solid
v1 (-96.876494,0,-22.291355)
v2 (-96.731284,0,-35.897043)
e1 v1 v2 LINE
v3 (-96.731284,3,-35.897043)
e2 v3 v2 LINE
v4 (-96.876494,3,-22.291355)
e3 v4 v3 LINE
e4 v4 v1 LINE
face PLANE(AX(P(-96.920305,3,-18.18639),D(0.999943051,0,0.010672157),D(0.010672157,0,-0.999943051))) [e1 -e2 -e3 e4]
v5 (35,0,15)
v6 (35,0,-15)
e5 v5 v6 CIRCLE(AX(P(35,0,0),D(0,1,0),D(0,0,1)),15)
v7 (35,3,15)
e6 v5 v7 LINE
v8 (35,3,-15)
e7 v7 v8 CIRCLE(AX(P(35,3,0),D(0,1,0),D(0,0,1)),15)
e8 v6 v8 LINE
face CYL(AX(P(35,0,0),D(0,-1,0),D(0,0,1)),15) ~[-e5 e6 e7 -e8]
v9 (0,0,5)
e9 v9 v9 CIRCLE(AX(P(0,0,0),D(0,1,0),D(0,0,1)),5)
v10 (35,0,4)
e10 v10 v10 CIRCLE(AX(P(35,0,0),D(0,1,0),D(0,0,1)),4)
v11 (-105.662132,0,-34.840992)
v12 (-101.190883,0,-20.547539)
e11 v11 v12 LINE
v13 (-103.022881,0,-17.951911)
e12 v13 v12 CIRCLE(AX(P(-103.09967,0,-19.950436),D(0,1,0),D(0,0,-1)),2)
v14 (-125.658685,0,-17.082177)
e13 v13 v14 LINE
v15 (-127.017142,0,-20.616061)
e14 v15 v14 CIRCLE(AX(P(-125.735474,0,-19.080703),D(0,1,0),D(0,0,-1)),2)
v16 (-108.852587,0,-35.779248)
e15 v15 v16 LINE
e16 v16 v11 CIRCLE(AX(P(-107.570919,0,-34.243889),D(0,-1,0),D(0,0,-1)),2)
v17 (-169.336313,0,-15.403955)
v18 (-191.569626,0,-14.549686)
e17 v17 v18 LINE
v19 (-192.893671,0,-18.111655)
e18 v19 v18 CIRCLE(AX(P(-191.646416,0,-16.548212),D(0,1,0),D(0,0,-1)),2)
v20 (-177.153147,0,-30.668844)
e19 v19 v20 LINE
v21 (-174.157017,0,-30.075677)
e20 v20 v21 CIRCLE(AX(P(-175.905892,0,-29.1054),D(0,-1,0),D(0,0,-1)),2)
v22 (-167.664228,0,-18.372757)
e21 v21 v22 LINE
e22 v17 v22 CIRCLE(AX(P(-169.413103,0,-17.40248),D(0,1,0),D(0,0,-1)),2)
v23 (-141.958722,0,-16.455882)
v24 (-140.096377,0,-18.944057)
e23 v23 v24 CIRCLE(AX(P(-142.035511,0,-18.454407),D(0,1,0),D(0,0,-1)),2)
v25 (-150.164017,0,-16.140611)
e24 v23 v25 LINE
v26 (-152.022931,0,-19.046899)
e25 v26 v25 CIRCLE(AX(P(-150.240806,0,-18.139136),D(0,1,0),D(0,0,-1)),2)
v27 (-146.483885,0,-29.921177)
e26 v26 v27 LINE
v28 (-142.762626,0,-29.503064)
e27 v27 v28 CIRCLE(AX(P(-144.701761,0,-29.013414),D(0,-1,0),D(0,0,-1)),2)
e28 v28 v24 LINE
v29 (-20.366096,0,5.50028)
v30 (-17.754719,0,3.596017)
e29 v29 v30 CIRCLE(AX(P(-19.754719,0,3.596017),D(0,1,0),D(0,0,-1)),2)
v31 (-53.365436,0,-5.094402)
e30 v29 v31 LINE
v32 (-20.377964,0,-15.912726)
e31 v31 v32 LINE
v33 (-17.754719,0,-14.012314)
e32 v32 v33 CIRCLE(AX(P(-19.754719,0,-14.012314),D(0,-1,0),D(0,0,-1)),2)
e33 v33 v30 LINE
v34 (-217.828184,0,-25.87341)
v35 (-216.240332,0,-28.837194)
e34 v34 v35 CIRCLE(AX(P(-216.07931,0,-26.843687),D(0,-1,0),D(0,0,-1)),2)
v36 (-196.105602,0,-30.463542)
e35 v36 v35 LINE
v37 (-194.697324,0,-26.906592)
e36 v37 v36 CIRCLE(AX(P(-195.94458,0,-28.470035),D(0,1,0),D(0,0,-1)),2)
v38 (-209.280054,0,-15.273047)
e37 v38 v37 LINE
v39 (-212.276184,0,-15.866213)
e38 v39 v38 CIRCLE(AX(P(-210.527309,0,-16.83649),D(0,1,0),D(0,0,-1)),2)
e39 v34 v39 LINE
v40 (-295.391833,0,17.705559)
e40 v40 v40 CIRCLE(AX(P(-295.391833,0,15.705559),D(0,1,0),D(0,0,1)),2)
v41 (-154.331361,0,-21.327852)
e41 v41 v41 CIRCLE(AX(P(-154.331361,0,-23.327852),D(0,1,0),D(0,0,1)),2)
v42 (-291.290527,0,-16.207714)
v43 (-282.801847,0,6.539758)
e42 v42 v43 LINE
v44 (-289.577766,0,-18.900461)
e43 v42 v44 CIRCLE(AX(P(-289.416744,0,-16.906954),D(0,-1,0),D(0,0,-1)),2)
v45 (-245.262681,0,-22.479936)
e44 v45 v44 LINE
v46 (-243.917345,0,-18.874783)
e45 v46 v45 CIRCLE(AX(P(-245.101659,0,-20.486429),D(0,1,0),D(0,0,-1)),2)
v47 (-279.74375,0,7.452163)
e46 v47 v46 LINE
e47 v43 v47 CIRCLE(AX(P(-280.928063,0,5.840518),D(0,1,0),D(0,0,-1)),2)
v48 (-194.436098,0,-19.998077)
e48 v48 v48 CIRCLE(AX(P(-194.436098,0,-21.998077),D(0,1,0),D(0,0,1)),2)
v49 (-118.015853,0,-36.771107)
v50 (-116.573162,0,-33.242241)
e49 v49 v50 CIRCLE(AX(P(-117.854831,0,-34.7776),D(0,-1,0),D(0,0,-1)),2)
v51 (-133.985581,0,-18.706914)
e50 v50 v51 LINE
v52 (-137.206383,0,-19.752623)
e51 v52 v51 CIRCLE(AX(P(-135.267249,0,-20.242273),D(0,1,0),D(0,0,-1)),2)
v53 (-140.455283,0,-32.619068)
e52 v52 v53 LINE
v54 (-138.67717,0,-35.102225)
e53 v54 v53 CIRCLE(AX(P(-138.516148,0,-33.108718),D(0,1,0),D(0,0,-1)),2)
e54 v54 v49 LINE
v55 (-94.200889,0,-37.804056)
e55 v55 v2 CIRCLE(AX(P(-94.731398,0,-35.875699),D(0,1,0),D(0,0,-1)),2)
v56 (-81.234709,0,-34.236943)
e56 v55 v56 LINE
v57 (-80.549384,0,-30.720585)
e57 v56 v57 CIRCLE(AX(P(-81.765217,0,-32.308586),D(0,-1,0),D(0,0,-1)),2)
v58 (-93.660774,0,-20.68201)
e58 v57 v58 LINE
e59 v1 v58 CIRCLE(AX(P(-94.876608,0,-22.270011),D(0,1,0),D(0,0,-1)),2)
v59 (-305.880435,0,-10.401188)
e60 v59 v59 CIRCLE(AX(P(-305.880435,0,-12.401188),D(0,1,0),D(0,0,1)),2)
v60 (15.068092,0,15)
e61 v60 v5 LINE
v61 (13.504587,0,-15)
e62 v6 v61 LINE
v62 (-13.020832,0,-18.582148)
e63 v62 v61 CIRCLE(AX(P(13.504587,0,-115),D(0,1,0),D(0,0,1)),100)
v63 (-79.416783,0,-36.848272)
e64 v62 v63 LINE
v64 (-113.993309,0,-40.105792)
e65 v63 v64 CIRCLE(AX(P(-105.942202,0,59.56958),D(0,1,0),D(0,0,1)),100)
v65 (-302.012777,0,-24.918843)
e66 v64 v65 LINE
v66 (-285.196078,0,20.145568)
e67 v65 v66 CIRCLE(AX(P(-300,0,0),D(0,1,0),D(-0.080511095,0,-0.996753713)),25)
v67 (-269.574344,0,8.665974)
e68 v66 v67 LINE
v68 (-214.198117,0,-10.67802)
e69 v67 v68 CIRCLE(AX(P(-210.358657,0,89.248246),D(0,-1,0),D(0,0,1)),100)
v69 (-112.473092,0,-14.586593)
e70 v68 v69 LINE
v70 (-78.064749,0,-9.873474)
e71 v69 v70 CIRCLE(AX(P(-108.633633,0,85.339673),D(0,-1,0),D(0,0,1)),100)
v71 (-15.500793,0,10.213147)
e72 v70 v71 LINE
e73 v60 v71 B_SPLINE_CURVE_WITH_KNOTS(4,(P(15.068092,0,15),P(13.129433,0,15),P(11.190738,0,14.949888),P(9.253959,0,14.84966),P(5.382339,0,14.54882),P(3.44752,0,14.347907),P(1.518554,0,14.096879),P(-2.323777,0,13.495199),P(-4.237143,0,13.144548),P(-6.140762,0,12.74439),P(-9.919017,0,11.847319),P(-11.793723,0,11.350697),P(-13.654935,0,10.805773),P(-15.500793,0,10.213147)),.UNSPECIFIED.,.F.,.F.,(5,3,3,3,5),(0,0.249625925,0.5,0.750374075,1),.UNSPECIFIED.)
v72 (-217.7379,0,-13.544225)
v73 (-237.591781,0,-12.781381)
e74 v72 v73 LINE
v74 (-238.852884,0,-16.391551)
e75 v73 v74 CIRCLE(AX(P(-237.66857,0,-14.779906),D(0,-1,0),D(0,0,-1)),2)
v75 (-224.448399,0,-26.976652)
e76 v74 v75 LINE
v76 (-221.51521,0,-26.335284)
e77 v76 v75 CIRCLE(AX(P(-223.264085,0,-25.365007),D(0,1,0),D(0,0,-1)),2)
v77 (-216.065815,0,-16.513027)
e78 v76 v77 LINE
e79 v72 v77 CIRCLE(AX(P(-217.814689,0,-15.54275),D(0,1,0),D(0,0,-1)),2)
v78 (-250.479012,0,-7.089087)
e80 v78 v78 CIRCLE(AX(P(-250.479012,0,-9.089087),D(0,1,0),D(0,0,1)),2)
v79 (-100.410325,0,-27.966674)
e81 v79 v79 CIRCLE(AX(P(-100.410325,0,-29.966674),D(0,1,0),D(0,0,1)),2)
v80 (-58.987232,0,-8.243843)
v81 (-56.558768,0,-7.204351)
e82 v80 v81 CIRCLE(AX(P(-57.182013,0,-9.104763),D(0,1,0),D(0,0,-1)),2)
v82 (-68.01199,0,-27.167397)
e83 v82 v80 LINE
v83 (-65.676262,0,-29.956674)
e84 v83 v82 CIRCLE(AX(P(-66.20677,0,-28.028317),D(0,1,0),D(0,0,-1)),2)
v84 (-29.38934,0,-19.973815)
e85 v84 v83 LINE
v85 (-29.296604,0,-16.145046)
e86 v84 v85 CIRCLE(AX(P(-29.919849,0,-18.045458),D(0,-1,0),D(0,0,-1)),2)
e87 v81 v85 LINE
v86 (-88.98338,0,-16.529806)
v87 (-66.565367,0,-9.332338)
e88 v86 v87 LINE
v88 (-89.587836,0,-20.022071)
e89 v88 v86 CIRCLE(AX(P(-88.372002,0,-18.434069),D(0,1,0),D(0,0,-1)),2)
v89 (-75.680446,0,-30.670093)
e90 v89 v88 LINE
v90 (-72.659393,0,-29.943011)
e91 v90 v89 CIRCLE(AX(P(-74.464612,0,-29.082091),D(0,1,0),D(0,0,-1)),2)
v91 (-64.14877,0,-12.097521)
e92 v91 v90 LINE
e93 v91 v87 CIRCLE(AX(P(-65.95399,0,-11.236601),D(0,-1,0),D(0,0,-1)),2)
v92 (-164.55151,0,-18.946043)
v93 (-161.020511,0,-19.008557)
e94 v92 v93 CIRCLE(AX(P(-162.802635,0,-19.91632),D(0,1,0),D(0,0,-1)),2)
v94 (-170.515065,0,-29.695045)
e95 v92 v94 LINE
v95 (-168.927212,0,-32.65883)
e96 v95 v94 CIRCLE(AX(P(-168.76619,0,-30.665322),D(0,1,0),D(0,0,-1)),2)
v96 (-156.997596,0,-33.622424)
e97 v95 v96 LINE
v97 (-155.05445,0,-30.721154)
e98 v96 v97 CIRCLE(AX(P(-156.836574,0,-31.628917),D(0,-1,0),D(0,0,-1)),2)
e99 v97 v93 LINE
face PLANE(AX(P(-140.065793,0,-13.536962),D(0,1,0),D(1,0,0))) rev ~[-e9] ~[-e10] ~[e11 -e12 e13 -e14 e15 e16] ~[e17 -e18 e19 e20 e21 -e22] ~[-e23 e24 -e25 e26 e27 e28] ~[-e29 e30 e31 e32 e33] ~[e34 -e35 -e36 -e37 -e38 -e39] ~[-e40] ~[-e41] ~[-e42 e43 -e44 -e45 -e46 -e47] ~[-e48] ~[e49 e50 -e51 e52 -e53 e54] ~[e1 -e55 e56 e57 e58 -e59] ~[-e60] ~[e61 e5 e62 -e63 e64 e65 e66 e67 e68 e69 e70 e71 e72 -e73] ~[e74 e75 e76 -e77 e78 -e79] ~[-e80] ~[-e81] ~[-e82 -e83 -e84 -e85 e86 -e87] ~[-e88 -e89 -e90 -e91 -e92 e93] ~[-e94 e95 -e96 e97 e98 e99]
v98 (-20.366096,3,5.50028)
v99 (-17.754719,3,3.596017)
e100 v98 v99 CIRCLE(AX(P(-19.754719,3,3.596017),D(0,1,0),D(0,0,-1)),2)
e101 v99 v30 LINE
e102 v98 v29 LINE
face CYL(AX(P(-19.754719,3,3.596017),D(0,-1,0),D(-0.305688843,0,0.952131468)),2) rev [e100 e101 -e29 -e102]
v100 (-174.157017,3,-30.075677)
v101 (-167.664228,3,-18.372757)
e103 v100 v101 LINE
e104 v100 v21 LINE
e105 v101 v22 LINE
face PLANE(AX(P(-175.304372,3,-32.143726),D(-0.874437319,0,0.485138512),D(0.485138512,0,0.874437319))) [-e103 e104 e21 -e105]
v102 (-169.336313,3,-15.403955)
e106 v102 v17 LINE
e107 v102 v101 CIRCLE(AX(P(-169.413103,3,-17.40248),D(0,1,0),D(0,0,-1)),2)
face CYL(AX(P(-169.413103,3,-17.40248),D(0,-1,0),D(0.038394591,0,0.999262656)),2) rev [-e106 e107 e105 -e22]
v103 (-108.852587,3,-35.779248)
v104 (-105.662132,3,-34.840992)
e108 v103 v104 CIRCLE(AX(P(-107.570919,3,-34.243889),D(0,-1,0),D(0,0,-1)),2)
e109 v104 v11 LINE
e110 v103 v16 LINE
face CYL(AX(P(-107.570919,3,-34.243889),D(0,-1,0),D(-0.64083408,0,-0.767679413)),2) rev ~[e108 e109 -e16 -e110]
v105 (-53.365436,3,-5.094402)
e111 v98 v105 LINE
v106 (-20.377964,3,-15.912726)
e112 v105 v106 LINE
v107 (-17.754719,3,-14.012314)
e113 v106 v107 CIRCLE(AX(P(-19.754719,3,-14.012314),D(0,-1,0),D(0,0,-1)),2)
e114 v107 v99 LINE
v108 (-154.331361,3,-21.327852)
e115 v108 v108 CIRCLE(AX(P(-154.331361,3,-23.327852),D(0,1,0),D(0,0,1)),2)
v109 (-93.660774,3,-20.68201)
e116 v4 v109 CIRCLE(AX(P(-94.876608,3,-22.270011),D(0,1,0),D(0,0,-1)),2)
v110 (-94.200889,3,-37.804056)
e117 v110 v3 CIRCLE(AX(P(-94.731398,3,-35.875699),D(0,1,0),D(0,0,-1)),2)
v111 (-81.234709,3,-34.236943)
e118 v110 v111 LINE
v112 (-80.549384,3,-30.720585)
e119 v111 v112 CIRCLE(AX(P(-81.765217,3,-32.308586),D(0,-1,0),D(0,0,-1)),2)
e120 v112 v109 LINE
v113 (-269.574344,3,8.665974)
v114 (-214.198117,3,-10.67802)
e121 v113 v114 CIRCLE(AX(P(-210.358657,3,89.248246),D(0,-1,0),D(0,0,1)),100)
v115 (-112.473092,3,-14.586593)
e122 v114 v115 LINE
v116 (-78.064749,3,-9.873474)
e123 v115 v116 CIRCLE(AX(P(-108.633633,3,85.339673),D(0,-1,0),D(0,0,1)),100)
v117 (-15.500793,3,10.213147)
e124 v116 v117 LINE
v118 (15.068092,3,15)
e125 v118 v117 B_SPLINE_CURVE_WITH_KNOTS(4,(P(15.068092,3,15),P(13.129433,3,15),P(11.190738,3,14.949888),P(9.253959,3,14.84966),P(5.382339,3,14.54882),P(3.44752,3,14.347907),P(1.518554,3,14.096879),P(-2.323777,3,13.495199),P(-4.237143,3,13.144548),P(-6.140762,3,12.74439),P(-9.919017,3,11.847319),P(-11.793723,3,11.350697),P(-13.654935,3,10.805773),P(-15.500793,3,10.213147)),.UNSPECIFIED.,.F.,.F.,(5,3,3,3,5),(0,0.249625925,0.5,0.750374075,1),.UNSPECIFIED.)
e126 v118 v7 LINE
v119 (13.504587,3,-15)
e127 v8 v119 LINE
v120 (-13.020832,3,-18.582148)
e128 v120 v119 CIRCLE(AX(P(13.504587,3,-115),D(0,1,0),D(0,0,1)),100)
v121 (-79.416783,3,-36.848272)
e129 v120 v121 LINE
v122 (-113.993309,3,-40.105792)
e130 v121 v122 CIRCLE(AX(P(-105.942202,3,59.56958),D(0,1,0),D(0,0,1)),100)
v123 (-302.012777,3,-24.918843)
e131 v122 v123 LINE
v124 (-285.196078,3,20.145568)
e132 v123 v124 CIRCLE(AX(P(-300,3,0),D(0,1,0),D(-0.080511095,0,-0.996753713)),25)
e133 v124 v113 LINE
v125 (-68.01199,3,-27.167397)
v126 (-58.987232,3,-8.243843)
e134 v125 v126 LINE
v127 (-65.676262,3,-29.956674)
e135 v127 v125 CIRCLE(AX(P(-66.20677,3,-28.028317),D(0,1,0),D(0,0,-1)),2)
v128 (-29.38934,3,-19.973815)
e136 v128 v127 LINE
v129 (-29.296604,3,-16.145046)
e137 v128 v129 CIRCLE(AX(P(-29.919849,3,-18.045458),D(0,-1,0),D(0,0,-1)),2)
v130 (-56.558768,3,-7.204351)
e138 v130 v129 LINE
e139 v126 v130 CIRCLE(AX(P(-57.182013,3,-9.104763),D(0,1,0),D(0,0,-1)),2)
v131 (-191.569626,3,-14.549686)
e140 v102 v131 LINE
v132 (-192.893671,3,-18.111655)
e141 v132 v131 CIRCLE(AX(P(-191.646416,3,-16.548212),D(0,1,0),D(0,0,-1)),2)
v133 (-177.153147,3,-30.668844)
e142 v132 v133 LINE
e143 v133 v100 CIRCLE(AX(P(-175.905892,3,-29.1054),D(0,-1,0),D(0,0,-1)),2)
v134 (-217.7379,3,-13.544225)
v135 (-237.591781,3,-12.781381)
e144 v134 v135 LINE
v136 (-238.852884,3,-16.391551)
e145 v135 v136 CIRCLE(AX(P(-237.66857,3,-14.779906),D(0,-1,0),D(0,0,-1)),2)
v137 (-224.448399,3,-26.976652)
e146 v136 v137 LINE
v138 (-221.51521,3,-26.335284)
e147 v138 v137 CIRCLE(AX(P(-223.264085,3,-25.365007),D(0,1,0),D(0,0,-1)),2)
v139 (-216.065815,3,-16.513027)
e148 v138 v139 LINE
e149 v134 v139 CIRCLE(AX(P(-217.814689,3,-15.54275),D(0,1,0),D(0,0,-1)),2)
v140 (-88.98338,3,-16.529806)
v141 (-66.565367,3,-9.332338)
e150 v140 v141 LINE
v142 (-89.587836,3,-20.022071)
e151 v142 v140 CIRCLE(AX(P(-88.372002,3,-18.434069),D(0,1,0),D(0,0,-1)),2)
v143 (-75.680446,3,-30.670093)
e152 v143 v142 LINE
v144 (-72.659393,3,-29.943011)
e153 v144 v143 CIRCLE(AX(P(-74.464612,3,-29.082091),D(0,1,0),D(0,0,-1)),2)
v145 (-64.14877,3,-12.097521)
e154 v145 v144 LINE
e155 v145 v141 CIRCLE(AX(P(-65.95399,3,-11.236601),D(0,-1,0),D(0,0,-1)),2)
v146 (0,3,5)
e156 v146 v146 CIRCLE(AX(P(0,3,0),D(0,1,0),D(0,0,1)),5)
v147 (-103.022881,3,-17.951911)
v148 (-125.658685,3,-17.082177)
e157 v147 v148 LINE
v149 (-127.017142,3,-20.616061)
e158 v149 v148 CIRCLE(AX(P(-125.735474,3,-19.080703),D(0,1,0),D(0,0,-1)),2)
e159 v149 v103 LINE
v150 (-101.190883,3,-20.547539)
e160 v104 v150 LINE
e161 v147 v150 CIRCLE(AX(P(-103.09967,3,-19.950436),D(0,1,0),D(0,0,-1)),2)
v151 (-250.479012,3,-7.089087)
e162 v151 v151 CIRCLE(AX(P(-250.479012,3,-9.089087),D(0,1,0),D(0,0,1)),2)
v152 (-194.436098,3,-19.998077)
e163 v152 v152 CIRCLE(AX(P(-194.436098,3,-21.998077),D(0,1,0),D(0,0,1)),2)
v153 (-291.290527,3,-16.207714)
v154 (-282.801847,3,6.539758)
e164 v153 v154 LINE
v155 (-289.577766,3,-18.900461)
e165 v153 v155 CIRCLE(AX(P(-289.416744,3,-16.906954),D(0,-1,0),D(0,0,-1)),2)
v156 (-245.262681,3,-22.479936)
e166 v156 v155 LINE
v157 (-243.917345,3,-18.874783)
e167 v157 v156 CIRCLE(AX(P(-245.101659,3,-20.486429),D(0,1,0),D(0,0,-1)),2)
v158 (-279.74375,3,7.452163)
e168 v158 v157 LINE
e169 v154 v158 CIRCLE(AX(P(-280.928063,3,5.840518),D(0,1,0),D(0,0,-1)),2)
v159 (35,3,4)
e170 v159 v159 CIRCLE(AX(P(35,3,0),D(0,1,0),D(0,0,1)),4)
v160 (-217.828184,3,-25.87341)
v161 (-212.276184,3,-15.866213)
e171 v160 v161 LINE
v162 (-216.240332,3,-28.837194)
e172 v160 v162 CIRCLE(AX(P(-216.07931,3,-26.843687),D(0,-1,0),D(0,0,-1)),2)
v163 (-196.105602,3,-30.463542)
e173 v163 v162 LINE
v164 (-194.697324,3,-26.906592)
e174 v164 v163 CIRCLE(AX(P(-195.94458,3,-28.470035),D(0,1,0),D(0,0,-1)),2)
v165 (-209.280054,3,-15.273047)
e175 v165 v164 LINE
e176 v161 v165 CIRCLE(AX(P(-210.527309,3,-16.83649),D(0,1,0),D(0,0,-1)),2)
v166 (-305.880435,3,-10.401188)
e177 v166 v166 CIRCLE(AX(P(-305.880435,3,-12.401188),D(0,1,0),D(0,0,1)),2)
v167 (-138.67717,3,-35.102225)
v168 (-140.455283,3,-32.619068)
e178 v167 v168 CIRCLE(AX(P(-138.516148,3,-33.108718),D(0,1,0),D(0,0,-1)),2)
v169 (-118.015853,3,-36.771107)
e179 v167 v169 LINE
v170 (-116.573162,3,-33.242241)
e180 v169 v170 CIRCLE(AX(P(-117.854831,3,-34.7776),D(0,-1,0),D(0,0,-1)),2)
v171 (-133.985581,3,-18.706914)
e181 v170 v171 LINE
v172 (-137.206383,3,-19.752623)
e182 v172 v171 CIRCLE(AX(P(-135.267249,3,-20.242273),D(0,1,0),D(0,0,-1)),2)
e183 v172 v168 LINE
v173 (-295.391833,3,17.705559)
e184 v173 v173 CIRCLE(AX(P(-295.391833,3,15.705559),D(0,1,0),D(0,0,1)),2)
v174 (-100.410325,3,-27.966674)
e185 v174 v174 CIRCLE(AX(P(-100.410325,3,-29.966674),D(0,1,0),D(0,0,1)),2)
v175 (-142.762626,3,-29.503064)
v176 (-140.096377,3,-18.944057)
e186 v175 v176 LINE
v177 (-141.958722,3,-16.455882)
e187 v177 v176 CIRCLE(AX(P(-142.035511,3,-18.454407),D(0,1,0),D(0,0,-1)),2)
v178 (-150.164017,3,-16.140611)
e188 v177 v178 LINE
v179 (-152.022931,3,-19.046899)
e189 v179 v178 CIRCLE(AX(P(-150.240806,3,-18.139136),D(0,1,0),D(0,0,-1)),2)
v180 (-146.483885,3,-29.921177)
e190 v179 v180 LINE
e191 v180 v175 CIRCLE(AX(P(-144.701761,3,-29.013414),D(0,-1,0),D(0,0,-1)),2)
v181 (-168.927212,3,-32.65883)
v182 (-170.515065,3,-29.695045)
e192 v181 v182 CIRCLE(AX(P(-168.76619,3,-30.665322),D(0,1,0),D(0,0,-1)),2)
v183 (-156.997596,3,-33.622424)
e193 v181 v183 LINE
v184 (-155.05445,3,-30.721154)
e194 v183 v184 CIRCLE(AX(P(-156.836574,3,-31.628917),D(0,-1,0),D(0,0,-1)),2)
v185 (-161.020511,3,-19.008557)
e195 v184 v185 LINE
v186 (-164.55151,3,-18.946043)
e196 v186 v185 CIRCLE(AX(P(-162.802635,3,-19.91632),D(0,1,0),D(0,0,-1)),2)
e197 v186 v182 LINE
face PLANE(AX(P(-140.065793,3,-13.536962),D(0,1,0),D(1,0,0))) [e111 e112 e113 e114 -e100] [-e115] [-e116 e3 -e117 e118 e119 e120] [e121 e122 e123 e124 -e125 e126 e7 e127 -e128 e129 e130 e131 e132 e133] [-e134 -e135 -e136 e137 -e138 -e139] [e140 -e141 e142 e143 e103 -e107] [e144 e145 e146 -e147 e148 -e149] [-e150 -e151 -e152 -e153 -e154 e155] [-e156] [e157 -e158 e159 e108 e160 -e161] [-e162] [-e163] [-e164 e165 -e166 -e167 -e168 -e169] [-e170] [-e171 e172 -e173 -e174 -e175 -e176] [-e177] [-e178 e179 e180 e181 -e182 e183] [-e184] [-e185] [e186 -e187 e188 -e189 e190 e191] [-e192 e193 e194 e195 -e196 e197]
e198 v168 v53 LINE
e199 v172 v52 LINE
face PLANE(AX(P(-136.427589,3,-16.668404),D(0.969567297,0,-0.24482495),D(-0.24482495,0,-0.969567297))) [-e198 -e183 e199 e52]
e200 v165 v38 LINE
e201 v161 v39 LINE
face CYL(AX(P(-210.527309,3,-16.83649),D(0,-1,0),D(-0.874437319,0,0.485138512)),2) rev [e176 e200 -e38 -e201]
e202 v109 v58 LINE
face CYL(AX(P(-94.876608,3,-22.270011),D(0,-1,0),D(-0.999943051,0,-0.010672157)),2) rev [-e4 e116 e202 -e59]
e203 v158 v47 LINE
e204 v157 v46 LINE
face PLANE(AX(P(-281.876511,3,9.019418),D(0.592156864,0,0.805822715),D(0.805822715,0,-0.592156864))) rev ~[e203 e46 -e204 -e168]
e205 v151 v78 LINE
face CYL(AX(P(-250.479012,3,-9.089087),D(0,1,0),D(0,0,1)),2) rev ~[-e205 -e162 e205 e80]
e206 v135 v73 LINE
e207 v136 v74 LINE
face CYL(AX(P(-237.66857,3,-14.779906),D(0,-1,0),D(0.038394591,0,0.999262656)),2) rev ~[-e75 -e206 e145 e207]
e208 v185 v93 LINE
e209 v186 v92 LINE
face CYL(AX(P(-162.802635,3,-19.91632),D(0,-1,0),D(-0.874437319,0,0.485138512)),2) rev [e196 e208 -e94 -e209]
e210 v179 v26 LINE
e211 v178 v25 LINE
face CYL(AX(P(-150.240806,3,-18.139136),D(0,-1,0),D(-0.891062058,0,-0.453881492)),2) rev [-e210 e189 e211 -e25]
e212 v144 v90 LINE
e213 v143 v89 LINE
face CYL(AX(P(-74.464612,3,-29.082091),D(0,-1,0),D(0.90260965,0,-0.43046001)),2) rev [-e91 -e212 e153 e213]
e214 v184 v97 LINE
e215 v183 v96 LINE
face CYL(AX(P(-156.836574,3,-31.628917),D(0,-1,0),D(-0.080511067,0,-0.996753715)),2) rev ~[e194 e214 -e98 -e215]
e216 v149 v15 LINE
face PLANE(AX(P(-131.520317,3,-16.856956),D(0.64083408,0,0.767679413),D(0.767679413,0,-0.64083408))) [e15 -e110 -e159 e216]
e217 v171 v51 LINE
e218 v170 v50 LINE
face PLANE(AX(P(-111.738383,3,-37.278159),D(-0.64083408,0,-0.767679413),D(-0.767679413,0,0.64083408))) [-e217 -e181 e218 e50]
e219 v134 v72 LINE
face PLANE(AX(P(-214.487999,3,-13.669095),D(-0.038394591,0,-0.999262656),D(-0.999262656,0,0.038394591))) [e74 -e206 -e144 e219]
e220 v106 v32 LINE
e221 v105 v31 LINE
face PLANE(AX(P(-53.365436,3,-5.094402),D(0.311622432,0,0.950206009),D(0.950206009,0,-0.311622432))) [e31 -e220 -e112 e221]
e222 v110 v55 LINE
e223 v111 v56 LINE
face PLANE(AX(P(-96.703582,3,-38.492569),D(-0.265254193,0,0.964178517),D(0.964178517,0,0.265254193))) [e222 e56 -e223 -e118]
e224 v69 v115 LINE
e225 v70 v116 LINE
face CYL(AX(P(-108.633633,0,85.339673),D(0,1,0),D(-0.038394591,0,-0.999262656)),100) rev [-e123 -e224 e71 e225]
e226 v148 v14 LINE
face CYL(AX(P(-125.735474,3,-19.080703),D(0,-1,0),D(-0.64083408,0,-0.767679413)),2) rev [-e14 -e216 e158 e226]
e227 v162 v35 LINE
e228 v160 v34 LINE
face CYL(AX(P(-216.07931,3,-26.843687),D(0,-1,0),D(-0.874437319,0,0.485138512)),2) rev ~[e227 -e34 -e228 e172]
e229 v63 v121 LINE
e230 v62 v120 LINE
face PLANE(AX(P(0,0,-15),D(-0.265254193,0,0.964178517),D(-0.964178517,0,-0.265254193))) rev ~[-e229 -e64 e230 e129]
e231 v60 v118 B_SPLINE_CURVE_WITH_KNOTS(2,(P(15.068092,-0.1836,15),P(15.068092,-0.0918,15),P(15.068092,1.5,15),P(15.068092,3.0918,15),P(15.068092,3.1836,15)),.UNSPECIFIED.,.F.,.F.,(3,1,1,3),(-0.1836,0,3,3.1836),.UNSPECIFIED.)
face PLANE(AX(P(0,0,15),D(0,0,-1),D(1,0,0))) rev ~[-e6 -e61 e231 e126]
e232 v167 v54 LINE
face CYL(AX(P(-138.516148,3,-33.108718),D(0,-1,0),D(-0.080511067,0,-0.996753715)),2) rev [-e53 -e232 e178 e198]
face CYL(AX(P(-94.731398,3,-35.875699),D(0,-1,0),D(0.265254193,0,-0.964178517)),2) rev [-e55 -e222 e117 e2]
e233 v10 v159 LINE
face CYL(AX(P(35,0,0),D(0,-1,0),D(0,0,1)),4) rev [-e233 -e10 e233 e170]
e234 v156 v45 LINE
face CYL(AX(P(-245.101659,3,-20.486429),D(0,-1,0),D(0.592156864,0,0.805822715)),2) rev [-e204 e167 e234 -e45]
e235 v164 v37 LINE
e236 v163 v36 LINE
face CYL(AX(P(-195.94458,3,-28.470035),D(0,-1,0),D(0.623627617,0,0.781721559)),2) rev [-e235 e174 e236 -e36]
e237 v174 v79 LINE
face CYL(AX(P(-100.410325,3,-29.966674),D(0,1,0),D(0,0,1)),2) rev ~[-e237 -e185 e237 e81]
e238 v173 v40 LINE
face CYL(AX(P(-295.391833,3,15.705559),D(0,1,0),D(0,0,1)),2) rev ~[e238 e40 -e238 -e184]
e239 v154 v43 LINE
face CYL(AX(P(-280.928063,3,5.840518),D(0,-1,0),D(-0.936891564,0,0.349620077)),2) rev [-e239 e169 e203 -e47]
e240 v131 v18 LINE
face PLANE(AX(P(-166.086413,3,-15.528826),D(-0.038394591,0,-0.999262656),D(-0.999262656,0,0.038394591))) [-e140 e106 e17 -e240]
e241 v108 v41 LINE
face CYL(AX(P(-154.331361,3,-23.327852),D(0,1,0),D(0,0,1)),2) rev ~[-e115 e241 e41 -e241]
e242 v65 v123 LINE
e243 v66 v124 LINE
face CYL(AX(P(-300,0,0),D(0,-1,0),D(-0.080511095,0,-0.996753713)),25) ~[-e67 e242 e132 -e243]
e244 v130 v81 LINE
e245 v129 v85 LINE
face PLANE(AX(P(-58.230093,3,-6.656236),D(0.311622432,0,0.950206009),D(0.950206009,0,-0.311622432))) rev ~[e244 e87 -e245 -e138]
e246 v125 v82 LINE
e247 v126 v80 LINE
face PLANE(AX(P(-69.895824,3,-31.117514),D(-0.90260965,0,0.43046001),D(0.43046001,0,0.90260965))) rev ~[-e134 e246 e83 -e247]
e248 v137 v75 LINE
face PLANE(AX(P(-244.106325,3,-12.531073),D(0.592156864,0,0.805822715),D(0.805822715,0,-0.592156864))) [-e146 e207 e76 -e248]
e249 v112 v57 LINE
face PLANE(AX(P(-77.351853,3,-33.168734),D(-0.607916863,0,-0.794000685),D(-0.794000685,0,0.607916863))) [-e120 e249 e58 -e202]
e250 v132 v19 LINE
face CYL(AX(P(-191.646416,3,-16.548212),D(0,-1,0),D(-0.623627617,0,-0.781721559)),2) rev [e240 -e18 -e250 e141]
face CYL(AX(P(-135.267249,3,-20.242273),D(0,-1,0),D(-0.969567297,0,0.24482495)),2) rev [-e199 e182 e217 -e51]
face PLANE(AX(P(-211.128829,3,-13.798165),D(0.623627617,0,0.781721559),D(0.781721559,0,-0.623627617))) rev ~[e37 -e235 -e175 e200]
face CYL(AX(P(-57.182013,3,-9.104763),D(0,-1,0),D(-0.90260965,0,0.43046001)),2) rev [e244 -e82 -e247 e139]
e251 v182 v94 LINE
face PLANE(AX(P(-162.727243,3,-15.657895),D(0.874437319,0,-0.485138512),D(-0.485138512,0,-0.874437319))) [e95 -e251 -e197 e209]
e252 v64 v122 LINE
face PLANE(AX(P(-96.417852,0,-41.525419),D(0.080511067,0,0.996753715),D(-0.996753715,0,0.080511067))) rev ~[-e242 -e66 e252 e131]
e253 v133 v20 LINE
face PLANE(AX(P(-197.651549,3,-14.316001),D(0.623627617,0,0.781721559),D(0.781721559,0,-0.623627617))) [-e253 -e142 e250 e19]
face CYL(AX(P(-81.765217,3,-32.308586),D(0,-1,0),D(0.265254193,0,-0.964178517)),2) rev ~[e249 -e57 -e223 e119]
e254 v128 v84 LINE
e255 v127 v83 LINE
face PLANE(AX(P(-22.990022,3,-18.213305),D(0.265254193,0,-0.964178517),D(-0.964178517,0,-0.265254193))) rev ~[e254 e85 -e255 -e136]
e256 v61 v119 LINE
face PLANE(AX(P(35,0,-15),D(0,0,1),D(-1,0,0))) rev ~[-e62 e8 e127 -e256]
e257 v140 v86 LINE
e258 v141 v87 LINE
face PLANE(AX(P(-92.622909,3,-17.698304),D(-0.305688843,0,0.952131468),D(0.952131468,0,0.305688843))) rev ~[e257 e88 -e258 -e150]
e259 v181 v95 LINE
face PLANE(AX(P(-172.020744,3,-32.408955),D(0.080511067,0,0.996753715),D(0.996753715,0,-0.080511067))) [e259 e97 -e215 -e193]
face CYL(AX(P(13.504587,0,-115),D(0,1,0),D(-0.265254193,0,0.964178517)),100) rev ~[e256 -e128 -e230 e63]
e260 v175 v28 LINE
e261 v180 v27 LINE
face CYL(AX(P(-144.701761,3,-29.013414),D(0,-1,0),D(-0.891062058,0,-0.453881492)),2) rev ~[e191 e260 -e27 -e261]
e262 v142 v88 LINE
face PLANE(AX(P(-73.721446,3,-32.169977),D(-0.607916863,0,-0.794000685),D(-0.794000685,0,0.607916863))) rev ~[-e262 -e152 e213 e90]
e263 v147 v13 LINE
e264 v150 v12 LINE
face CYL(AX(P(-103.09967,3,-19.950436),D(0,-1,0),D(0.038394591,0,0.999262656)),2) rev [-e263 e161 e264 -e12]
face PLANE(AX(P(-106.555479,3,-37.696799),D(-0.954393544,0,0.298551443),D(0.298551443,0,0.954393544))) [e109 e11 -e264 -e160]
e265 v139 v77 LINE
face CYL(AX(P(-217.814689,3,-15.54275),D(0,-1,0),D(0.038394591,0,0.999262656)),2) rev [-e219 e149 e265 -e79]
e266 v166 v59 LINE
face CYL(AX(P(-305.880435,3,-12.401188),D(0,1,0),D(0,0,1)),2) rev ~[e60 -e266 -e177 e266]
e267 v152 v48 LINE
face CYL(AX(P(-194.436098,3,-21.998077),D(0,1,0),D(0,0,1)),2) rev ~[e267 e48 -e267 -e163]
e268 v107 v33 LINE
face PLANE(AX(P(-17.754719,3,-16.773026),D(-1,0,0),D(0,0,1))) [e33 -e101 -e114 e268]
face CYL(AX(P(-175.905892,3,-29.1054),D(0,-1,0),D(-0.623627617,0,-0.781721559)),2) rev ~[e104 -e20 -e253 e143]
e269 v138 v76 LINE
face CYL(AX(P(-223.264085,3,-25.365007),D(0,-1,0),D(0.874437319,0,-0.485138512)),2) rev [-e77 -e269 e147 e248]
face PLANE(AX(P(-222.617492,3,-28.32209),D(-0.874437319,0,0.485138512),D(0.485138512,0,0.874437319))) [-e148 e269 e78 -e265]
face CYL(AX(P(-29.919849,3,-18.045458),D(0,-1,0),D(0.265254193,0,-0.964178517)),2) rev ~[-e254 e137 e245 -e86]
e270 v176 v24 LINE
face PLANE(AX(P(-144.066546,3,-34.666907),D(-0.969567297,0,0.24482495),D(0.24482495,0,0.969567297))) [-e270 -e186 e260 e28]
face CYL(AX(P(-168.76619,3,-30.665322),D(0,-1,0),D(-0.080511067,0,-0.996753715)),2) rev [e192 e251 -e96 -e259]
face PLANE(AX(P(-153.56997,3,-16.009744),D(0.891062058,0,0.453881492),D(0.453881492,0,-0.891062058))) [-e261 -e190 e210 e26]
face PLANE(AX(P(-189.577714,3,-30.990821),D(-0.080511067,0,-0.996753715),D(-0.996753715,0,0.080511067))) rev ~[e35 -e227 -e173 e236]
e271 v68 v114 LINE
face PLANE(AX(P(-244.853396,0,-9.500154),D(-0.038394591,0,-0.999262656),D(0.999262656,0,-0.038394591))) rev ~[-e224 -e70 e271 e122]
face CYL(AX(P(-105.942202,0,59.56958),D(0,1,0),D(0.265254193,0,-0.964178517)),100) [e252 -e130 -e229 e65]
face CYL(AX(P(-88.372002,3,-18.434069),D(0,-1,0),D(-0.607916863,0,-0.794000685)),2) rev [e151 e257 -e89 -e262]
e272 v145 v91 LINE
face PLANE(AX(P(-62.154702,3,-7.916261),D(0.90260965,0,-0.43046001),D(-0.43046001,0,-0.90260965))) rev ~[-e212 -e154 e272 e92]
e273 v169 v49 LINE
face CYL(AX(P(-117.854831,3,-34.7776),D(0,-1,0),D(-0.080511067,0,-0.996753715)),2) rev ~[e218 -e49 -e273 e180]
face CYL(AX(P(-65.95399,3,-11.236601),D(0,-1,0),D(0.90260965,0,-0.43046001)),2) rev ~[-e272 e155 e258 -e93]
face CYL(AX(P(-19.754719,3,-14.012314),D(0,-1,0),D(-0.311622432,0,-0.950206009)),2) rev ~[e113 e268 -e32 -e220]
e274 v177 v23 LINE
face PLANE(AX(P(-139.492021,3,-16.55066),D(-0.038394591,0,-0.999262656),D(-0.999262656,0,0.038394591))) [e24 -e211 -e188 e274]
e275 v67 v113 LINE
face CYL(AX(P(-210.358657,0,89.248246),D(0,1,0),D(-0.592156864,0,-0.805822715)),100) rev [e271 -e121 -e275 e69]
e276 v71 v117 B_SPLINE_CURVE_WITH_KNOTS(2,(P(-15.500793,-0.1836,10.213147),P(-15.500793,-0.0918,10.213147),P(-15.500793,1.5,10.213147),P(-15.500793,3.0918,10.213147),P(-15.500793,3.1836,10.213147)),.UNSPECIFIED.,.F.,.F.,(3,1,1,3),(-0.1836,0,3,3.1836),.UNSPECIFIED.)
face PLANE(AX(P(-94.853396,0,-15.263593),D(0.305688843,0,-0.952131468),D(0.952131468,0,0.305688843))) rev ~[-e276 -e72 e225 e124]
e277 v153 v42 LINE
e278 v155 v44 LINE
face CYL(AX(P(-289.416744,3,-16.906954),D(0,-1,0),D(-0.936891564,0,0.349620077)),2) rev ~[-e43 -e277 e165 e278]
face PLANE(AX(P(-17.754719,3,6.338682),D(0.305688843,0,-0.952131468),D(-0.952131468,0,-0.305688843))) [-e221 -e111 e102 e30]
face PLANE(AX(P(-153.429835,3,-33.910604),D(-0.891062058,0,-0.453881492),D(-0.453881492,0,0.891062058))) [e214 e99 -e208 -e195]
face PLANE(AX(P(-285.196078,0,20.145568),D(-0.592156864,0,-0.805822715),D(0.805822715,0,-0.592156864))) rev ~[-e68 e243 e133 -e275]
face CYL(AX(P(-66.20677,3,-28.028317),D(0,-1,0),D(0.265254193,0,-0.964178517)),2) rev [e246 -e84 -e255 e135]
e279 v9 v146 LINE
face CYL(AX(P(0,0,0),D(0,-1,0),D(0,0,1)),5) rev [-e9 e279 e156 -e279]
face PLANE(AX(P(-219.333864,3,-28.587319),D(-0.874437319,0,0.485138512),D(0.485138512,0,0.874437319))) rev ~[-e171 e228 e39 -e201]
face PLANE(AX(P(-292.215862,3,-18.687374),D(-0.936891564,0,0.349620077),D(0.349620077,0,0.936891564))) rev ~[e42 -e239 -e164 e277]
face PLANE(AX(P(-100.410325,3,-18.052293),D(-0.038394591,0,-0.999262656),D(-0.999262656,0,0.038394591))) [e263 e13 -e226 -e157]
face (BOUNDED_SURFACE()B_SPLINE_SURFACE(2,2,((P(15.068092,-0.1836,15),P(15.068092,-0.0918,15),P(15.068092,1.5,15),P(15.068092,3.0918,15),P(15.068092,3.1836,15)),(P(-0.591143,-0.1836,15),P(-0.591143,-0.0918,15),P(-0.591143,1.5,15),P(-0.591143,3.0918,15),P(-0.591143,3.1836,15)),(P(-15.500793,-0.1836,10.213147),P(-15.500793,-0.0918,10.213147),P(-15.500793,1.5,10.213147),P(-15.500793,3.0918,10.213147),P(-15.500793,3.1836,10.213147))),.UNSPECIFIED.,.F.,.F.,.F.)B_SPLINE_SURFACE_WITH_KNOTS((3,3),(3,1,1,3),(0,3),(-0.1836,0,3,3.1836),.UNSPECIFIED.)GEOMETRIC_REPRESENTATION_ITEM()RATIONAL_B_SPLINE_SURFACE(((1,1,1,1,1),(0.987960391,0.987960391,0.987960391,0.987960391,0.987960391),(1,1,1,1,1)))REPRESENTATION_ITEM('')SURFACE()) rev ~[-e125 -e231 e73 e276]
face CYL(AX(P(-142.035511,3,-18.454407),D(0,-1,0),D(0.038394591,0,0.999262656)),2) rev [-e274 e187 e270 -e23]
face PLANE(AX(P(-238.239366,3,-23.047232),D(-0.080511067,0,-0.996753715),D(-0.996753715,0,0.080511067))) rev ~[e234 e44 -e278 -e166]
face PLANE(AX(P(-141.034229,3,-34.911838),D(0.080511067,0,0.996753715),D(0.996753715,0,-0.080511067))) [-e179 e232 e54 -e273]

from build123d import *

# Parameters (mm, degrees)
SKETCH1_R           = 5
SKETCH1_R_2         = 4
BOSS_EXTRUDE1_DEPTH = 3
FILLET1_R           = 100
SKETCH2_R           = 2
CUT_EXTRUDE1_DEPTH  = 3
FILLET2_R           = 2


with BuildPart() as part:
    # Sketch1 → Boss-Extrude1 (new body)
    with BuildSketch(Plane(origin=(0, 0, 0), x_dir=(1, 0, 0), z_dir=(0, 1, 0))):
        with BuildLine():
            Line((0, 15), (-96.417851723, 41.525419301))
            Line((-96.417851723, 41.525419301), (-302.012777379, 24.918842815))
            ThreePointArc((-302.012777379, 24.918842815), (-323.422288966, -8.74050225), (-285.196078396, -20.145567878))
            Line((-285.196078396, -20.145567878), (-244.853395733, 9.500154448))
            Line((-244.853395733, 9.500154448), (-94.853395733, 15.263592787))
            Line((-94.853395733, 15.263592787), (-8.209432186, -12.55409189))
            Line((-8.209432186, -12.55409189), (0, -15))
            Line((0, -15), (35, -15))
            ThreePointArc((35, -15), (50, 0), (35, 15))
            Line((35, 15), (0, 15))
        make_face()
        with Locations(Location((0, 0, 0), (0, 0, 270))):
            Circle(SKETCH1_R, mode=Mode.SUBTRACT)
        with Locations(Location((35, 0, 0), (0, 0, 270))):
            Circle(SKETCH1_R_2, mode=Mode.SUBTRACT)
    extrude(amount=BOSS_EXTRUDE1_DEPTH)

    # Fillet1
    fillet1_edges = [part.edges().sort_by_distance(p)[0] for p in [
        (0, 1.5, -15),
        (-96.417851723, 1.5, -41.525419301),
        (-94.853395733, 1.5, -15.263592787),
        (-244.853395733, 1.5, -9.500154448),
        (0, 1.5, 15),
    ]]
    fillet(fillet1_edges, radius=FILLET1_R)

    # Sketch2 → Cut-Extrude1 (cut)
    with BuildSketch(Plane(origin=(0, 3, 0), x_dir=(1, 0, 0), z_dir=(0, 1, 0))):
        with Locations(Location((-100.410325029, 29.966674425, 0), (0, 0, 270))):
            Circle(SKETCH2_R)
        with Locations(Location((-154.331360865, 23.327852047, 0), (0, 0, 270))):
            Circle(SKETCH2_R)
        with Locations(Location((-194.43609766, 21.998076888, 0), (0, 0, 270))):
            Circle(SKETCH2_R)
        with Locations(Location((-250.479012244, 9.089087069, 0), (0, 0, 270))):
            Circle(SKETCH2_R)
        with Locations(Location((-305.880435037, 12.401187858, 0), (0, 0, 270))):
            Circle(SKETCH2_R)
        with Locations(Location((-295.391832737, -15.705559051, 0), (0, 0, 270))):
            Circle(SKETCH2_R)
        Polygon((-292.21586201, 18.687373798), (-281.876511166, -9.019417731), (-238.23936591, 23.047232428), align=None)
        Polygon((-17.754718765, 16.773026019), (-17.754718765, -6.33868172), (-53.365436428, 5.0944023), align=None)
        Polygon((-22.990022437, 18.213305206), (-69.89582428, 31.117513703), (-58.230092835, 6.656236183), align=None)
        Polygon((-62.154702225, 7.916261025), (-73.721446188, 32.169976742), (-92.622909187, 17.698303988), align=None)
        Polygon((-77.35185331, 33.168734435), (-96.92030532, 18.186389746), (-96.703582242, 38.492569336), align=None)
        Polygon((-244.106325436, 12.531072737), (-222.617491874, 28.322089864), (-214.487999018, 13.66909539), align=None)
        Polygon((-106.555479442, 37.696799286), (-100.410325029, 18.05229299), (-131.520316701, 16.856956198), align=None)
        Polygon((-111.738383291, 37.278159142), (-136.427588937, 16.668404458), (-141.03422906, 34.911837591), align=None)
        Polygon((-144.066545636, 34.666907435), (-139.492021115, 16.550660019), (-153.569970314, 16.009744071), align=None)
        Polygon((-153.429835368, 33.910603812), (-162.727242525, 15.657894913), (-172.020743917, 32.408955151), align=None)
        Polygon((-175.304372068, 32.143725735), (-166.086412512, 15.528825786), (-197.65154914, 14.316000995), align=None)
        Polygon((-219.333863723, 28.58731928), (-211.128829032, 13.798164517), (-189.577714365, 30.990821062), align=None)
    extrude(amount=-CUT_EXTRUDE1_DEPTH, mode=Mode.SUBTRACT)

    # Fillet2
    fillet2_edges = [part.edges().sort_by_distance(p)[0] for p in [
        (-96.92030532, 1.5, -18.186389746),
        (-96.703582242, 1.5, -38.492569336),
        (-77.35185331, 1.5, -33.168734435),
        (-17.754718765, 1.5, -16.773026019),
        (-17.754718765, 1.5, 6.33868172),
        (-22.990022437, 1.5, -18.213305206),
        (-58.230092835, 1.5, -6.656236183),
        (-69.89582428, 1.5, -31.117513703),
        (-62.154702225, 1.5, -7.916261025),
        (-92.622909187, 1.5, -17.698303988),
        (-73.721446188, 1.5, -32.169976742),
        (-214.487999018, 1.5, -13.66909539),
        (-244.106325436, 1.5, -12.531072737),
        (-222.617491874, 1.5, -28.322089864),
        (-219.333863723, 1.5, -28.58731928),
        (-189.577714365, 1.5, -30.990821062),
        (-211.128829032, 1.5, -13.798164517),
        (-172.020743917, 1.5, -32.408955151),
        (-153.429835368, 1.5, -33.910603812),
        (-162.727242525, 1.5, -15.657894913),
        (-141.03422906, 1.5, -34.911837591),
        (-111.738383291, 1.5, -37.278159142),
        (-136.427588937, 1.5, -16.668404458),
        (-131.520316701, 1.5, -16.856956198),
        (-106.555479442, 1.5, -37.696799286),
        (-100.410325029, 1.5, -18.05229299),
        (-153.569970314, 1.5, -16.009744071),
        (-144.066545636, 1.5, -34.666907435),
        (-139.492021115, 1.5, -16.550660019),
        (-197.65154914, 1.5, -14.316000995),
        (-175.304372068, 1.5, -32.143725735),
        (-166.086412512, 1.5, -15.528825786),
        (-292.21586201, 1.5, -18.687373798),
        (-238.23936591, 1.5, -23.047232428),
        (-281.876511166, 1.5, 9.019417731),
    ]]
    fillet(fillet2_edges, radius=FILLET2_R)


solid = part.part
